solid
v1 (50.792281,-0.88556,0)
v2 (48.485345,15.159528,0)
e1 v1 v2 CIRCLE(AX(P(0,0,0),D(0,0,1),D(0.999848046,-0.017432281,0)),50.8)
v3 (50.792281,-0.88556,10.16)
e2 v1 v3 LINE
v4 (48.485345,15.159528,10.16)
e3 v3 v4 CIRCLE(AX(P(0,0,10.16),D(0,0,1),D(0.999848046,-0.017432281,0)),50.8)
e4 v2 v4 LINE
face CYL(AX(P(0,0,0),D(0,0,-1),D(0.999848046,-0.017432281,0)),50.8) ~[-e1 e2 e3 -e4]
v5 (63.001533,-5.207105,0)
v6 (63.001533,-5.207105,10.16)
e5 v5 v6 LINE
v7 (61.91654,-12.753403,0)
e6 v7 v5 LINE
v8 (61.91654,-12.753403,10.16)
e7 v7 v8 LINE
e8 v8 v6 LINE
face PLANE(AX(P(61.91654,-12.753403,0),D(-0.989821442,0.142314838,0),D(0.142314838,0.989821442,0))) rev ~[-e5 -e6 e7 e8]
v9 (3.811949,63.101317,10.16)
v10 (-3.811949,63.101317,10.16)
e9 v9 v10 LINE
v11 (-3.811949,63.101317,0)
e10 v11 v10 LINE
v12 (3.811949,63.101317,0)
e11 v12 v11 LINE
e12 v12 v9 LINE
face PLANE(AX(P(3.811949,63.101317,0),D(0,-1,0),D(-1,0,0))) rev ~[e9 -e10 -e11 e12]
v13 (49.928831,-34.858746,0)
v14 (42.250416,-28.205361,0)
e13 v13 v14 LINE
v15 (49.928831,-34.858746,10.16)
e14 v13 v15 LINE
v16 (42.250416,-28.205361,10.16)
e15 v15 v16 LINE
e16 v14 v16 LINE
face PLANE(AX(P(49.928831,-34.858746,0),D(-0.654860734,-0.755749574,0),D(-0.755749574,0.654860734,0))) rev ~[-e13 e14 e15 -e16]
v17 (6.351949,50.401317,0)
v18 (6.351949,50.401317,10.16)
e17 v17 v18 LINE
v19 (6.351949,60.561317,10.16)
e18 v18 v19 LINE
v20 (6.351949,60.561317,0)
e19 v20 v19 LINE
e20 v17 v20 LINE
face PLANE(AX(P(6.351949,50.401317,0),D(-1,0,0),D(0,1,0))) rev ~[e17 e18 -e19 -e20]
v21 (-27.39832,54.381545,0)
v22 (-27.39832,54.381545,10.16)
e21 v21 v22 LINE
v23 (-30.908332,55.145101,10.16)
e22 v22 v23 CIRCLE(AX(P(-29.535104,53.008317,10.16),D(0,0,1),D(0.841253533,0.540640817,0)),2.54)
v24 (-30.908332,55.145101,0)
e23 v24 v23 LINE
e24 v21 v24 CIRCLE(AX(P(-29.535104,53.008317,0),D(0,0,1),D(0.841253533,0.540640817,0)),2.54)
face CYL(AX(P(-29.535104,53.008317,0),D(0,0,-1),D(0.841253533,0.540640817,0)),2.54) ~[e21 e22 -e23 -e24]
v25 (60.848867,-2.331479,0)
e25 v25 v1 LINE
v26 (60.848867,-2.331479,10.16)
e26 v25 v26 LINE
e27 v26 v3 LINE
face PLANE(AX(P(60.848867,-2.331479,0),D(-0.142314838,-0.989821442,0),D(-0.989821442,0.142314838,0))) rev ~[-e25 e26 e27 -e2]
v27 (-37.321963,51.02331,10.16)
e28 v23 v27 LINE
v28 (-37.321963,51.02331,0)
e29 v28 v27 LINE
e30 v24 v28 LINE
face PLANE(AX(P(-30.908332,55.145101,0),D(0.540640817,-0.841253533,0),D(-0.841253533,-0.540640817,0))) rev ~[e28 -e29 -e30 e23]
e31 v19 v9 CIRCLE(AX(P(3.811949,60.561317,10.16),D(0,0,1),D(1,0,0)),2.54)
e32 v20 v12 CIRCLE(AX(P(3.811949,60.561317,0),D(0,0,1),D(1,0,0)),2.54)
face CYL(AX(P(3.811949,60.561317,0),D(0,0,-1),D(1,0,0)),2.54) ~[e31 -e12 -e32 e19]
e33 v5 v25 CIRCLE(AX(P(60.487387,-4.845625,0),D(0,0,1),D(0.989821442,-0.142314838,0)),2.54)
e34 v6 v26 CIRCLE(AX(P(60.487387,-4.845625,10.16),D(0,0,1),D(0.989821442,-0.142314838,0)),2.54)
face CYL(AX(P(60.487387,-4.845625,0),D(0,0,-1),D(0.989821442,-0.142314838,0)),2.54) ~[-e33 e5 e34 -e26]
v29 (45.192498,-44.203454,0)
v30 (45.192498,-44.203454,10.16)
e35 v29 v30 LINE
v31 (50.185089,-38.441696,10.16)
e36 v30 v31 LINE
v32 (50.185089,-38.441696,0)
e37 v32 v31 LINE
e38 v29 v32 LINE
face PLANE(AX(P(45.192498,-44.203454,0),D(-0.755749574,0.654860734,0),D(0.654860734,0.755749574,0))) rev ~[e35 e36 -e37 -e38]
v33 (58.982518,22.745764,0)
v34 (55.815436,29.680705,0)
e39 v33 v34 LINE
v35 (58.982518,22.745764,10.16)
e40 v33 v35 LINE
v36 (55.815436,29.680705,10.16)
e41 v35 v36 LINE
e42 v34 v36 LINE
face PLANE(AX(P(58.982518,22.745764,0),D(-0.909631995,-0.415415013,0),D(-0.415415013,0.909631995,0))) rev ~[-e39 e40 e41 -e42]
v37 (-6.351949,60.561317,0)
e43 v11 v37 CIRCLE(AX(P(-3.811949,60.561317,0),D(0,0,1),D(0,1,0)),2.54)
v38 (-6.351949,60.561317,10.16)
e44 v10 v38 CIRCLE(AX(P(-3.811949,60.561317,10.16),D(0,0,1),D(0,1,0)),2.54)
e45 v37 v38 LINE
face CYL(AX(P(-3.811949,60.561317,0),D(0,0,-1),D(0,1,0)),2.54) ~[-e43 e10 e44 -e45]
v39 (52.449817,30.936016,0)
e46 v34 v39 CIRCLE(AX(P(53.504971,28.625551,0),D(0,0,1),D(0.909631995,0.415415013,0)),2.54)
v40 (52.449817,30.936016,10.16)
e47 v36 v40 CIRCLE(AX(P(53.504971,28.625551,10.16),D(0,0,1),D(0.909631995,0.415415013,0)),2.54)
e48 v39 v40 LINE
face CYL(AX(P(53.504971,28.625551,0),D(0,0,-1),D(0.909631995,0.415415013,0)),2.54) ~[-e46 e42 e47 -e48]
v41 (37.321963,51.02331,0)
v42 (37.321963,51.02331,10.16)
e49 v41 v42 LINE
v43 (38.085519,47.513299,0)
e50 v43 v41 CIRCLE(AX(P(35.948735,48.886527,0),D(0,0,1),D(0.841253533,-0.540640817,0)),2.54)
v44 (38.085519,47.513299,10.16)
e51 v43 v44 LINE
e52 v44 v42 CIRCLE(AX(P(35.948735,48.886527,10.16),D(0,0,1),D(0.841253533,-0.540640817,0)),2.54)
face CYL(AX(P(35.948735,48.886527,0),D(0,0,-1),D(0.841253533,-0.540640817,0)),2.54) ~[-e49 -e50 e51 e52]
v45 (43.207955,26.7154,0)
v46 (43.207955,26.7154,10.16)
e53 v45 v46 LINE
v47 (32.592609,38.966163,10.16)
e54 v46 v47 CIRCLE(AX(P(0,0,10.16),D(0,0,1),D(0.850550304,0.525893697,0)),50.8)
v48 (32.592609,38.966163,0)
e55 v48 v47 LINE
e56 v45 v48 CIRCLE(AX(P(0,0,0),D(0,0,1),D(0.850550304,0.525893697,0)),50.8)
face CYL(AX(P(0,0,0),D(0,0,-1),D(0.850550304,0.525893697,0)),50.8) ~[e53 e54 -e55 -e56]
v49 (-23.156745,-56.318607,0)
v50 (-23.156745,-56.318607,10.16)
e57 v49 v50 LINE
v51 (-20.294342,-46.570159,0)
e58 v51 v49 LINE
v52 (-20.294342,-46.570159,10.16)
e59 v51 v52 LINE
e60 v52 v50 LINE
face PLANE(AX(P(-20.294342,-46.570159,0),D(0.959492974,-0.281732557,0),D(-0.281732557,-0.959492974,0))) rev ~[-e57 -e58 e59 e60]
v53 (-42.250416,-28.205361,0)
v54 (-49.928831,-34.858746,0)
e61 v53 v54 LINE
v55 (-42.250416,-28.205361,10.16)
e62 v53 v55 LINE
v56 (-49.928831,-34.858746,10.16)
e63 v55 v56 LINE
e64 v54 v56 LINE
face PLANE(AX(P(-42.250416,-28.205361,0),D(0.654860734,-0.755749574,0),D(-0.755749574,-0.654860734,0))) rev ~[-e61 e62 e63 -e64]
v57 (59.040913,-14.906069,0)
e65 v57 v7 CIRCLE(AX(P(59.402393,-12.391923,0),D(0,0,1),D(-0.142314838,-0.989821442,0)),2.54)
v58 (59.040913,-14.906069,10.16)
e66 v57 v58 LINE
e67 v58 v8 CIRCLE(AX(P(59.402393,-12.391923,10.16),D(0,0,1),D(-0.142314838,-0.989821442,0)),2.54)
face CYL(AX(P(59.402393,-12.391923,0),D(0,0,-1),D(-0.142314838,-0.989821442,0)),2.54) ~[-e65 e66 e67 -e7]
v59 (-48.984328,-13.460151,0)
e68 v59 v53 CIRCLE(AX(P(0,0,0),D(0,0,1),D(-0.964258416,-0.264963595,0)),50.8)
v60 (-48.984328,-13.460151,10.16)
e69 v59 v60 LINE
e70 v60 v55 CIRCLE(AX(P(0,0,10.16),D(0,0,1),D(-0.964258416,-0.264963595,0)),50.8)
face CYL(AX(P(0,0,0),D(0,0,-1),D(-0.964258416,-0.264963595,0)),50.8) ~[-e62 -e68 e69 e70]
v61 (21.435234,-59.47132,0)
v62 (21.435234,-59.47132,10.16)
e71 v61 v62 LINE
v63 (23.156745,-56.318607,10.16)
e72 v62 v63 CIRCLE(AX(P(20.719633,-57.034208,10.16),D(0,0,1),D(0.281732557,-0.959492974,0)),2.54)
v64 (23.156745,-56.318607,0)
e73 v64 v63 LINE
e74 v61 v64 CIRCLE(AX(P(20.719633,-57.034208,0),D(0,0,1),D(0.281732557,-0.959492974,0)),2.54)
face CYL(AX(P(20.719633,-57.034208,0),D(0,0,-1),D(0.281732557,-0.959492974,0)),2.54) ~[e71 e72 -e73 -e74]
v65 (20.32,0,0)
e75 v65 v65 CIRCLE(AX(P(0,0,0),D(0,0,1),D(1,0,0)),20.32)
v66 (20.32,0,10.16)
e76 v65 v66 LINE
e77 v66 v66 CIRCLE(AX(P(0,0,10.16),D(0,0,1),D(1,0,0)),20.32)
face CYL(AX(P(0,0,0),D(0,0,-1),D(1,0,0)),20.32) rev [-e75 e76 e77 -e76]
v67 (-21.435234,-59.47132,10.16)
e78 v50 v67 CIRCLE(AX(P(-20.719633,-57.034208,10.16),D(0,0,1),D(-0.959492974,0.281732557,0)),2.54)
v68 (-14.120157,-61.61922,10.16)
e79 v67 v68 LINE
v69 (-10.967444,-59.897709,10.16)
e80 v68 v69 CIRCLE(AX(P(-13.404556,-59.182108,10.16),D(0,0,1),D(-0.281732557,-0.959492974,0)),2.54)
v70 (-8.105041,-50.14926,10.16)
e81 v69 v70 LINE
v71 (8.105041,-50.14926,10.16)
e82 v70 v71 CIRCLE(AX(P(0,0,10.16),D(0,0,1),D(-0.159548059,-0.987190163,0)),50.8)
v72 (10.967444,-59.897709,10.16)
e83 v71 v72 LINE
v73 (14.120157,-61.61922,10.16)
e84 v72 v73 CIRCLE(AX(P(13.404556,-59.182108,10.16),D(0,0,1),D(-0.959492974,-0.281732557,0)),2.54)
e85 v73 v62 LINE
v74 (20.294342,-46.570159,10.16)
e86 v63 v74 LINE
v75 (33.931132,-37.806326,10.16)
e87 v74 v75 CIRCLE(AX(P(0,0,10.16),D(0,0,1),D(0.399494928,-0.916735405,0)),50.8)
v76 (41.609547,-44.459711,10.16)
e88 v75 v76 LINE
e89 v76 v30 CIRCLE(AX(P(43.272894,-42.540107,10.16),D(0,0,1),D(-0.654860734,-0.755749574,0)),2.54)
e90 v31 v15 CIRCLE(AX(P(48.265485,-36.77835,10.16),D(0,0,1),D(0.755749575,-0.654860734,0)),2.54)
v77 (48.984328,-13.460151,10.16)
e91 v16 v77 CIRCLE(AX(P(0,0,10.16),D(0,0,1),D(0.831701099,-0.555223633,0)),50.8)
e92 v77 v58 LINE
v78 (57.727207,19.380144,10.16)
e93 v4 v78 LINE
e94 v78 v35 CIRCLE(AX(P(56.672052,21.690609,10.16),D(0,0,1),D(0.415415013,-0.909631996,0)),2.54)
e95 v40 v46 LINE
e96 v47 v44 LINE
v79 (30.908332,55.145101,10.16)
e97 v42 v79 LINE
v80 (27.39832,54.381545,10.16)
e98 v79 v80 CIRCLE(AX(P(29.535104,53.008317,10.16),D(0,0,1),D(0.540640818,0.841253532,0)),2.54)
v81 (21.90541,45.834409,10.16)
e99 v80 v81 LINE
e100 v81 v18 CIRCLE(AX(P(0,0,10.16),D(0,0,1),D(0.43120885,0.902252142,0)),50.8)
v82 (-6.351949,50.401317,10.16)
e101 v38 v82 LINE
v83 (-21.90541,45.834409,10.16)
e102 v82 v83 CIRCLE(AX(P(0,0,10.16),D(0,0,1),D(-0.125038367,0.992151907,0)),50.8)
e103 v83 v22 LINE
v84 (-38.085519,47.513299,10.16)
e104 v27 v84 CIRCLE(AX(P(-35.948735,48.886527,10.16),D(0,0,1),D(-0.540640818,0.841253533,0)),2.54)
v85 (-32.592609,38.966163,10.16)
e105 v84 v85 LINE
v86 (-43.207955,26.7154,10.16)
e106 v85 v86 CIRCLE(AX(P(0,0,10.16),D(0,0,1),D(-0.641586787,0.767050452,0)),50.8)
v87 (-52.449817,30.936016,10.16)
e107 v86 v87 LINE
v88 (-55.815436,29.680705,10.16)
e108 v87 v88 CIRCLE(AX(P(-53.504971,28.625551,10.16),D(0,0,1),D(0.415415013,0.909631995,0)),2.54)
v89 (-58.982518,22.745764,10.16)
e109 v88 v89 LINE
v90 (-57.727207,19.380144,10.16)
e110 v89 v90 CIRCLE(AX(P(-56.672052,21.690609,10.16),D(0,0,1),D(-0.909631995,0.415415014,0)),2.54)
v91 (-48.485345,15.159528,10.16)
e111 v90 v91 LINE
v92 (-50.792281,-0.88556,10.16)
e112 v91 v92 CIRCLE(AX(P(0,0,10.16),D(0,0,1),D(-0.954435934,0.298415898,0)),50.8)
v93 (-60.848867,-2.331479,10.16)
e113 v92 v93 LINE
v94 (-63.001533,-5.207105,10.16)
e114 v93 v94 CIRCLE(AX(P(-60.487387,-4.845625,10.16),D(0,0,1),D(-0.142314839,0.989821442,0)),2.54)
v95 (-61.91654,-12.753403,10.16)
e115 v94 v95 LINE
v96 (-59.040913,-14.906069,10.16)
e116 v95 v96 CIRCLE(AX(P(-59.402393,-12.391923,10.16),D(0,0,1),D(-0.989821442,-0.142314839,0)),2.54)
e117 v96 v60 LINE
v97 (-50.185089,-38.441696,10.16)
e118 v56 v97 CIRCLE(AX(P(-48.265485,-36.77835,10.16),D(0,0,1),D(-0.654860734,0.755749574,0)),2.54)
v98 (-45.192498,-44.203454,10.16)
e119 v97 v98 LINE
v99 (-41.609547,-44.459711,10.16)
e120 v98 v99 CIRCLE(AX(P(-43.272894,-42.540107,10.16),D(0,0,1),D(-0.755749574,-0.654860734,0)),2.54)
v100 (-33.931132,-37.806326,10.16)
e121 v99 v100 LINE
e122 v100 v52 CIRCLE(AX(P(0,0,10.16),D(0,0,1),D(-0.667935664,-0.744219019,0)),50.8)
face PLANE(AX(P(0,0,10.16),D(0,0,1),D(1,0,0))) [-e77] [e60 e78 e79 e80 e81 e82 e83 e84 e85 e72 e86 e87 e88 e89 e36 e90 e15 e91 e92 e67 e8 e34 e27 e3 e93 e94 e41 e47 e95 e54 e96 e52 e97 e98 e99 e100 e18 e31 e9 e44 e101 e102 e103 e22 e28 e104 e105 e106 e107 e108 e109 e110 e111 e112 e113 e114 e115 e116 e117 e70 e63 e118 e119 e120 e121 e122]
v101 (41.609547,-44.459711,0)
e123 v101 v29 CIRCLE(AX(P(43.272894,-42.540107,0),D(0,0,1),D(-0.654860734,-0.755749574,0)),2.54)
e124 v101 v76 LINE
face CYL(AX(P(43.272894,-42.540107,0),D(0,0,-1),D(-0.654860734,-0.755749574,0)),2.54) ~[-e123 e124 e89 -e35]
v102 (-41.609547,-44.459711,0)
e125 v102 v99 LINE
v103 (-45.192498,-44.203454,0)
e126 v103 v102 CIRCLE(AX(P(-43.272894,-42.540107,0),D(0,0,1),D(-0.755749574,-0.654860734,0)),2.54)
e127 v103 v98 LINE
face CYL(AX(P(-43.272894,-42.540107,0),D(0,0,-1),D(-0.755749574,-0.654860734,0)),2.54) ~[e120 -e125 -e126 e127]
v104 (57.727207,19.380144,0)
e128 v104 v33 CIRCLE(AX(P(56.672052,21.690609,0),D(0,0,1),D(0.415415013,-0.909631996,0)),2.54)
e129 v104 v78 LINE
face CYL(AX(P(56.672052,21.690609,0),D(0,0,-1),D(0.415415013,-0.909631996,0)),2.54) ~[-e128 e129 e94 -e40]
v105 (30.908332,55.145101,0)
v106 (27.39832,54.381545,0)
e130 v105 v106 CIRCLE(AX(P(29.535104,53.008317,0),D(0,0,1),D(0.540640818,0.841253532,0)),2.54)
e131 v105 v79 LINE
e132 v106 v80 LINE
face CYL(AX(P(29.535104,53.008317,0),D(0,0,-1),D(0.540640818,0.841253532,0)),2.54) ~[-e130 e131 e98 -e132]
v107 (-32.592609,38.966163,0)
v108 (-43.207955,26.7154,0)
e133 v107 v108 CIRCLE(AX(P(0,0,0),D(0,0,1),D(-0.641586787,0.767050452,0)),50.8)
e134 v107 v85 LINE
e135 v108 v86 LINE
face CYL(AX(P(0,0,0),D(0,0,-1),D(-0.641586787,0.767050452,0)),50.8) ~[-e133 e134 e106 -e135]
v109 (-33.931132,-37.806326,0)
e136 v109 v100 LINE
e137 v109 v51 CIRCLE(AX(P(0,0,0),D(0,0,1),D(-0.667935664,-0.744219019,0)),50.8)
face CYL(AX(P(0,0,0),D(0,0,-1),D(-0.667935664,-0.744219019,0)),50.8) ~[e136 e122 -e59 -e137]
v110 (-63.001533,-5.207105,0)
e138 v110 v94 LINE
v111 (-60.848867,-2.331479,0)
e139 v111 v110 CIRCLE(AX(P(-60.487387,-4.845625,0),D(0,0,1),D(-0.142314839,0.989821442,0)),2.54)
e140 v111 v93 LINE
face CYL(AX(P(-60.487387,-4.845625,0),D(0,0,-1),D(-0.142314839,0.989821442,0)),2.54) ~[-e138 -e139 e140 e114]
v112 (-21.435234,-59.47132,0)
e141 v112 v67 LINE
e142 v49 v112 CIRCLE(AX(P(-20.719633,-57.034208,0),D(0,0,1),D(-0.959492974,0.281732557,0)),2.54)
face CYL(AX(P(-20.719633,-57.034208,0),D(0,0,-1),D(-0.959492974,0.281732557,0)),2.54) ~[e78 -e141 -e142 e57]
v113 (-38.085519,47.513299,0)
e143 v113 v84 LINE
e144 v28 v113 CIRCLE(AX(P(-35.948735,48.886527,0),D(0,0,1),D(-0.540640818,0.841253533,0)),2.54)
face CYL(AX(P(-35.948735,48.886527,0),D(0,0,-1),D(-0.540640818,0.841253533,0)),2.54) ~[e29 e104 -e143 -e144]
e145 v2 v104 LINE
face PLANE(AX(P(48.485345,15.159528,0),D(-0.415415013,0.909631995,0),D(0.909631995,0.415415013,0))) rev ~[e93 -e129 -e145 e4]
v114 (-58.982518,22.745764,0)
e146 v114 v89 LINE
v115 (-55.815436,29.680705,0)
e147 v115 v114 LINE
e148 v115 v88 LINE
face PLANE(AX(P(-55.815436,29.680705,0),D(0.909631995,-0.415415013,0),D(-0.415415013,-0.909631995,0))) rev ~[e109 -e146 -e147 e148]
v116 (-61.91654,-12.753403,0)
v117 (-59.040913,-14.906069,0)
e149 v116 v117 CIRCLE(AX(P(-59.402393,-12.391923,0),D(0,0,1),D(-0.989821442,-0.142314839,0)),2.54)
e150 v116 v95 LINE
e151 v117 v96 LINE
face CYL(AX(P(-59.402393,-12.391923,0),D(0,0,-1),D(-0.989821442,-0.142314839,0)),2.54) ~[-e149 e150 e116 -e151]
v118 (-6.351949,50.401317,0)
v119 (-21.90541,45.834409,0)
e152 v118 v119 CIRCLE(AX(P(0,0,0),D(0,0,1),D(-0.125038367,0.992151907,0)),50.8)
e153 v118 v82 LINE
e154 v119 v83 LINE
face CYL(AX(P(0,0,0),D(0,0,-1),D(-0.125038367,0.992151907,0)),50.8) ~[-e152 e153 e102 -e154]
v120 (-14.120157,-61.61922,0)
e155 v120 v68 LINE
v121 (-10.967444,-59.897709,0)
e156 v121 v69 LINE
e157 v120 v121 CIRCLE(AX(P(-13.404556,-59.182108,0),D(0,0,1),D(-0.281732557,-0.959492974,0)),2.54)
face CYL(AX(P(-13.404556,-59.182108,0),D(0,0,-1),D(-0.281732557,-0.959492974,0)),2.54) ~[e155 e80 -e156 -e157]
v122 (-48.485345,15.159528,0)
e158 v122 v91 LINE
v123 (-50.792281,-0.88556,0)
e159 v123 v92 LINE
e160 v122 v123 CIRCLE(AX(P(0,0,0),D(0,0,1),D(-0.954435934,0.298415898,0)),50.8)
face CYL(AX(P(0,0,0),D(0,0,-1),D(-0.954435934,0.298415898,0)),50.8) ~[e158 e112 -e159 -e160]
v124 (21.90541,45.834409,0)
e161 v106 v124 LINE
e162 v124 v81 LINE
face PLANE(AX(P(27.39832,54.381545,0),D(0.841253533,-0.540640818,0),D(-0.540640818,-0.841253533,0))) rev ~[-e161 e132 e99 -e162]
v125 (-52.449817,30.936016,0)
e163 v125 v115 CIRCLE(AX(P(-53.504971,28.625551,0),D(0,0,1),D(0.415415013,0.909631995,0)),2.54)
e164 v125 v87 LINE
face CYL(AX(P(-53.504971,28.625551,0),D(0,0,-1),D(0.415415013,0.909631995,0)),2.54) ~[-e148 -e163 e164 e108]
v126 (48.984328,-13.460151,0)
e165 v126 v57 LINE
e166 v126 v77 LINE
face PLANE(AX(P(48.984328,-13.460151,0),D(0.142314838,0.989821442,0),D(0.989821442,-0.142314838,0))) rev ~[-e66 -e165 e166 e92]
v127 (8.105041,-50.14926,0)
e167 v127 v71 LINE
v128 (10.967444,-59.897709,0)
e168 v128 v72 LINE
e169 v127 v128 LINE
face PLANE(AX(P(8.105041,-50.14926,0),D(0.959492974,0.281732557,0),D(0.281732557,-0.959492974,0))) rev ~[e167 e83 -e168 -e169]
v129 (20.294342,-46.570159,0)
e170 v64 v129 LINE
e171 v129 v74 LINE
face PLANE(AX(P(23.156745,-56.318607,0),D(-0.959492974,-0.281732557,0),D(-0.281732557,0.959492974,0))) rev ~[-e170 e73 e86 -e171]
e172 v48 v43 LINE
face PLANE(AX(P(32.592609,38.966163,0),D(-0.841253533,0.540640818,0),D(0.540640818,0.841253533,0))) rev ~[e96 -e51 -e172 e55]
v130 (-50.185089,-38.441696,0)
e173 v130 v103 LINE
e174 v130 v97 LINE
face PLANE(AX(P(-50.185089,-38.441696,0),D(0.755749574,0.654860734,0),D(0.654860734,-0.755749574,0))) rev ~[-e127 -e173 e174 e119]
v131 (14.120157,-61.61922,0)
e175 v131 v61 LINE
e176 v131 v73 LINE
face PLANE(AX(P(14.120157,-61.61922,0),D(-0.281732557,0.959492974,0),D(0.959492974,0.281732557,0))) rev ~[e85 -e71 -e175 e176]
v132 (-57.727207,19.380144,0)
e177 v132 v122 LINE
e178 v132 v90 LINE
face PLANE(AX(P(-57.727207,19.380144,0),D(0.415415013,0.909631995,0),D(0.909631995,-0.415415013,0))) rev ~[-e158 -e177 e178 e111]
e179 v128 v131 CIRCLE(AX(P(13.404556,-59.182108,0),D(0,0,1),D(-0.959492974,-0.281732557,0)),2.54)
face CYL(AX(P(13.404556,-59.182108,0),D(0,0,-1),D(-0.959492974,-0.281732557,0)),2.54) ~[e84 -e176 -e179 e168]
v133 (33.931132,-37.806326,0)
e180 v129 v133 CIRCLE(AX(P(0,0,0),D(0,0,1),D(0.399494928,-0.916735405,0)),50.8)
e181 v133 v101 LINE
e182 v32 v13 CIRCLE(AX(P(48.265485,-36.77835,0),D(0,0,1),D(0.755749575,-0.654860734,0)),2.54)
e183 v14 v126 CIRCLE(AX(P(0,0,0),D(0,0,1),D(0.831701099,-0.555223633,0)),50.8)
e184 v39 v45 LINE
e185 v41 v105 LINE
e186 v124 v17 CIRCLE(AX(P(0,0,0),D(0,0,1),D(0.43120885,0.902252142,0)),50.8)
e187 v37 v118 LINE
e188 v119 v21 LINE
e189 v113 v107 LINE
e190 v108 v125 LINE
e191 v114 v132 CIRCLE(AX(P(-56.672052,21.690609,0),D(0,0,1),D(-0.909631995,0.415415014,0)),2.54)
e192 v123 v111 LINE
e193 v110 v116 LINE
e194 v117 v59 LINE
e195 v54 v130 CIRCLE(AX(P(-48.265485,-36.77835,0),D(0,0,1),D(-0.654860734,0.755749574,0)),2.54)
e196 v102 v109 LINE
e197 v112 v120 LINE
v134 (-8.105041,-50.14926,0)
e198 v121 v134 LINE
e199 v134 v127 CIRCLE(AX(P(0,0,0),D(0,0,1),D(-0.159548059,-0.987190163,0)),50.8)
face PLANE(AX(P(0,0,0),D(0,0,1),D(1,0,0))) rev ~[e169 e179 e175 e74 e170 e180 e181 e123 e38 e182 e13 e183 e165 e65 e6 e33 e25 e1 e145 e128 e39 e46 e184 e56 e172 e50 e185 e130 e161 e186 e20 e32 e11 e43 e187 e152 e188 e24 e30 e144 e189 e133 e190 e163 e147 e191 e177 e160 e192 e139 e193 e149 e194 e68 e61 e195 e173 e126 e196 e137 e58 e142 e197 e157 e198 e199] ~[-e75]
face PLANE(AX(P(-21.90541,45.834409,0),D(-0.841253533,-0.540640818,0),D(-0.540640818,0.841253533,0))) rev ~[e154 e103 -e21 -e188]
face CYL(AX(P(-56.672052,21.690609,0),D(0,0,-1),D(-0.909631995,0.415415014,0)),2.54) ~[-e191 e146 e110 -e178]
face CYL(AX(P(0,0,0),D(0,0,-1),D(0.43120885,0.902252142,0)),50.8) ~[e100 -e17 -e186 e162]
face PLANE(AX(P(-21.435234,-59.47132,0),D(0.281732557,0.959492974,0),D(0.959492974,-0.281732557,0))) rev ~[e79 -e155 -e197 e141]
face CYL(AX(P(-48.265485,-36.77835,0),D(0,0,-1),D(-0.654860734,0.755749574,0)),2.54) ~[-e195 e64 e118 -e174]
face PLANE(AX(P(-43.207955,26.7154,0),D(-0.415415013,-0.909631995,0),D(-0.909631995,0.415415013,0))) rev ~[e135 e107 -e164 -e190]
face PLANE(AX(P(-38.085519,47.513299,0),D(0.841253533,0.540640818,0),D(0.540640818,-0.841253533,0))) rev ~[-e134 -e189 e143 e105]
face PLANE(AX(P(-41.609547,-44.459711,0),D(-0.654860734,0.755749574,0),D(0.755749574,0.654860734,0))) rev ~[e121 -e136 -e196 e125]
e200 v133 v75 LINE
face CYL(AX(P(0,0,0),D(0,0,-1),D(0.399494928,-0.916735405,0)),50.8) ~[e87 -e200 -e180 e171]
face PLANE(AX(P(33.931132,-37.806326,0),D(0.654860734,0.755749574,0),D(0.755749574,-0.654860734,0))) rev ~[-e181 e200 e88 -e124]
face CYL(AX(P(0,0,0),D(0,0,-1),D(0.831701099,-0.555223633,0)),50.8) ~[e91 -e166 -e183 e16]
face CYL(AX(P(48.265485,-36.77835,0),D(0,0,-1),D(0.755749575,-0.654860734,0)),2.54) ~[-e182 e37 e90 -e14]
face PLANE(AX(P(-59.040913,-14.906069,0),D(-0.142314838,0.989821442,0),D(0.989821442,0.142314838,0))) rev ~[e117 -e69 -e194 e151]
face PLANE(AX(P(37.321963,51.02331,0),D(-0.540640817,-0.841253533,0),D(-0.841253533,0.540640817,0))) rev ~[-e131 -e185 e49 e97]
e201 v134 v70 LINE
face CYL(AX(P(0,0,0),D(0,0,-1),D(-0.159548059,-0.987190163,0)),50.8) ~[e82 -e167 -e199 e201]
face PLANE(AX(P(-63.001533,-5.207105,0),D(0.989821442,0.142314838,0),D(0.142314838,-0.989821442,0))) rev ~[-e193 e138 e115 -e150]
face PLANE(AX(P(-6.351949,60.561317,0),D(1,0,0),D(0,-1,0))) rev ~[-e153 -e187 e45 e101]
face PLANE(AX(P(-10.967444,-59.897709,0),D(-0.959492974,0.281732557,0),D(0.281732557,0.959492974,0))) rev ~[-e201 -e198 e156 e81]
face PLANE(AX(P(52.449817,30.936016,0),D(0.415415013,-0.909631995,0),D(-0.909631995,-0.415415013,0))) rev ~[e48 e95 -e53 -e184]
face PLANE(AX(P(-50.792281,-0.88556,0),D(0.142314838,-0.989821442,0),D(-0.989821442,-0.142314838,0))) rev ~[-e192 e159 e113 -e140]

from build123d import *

# Parameters (mm, degrees)
SKETCH1_R           = 20.32
BOSS_EXTRUDE3_DEPTH = 10.16


with BuildPart() as part:
    # Sketch1 → Boss-Extrude3 (new body)
    with BuildSketch(Plane.XY):
        with BuildLine():
            Line((37.321963159, 51.023310491), (30.908331921, 55.145101009))
            ThreePointArc((30.908331921, 55.145101009), (28.995188409, 55.490270076), (27.398320271, 54.381544712))
            Line((27.398320271, 54.381544712), (21.905409565, 45.834408819))
            ThreePointArc((21.905409565, 45.834408819), (14.312013888, 48.74224306), (6.351949066, 50.401316878))
            Line((6.351949066, 50.401316878), (6.351949066, 60.561316878))
            ThreePointArc((6.351949066, 60.561316878), (5.608000291, 62.357368102), (3.811949066, 63.101316878))
            Line((3.811949066, 63.101316878), (-3.811949066, 63.101316878))
            ThreePointArc((-3.811949066, 63.101316878), (-5.608000291, 62.357368102), (-6.351949066, 60.561316878))
            Line((-6.351949066, 60.561316878), (-6.351949066, 50.401316878))
            ThreePointArc((-6.351949066, 50.401316878), (-14.312013888, 48.74224306), (-21.905409565, 45.834408819))
            Line((-21.905409565, 45.834408819), (-27.398320271, 54.381544712))
            ThreePointArc((-27.398320271, 54.381544712), (-28.995188409, 55.490270076), (-30.908331921, 55.145101009))
            Line((-30.908331921, 55.145101009), (-37.321963159, 51.023310491))
            ThreePointArc((-37.321963159, 51.023310491), (-38.430688522, 49.426442353), (-38.085519456, 47.513298841))
            Line((-38.085519456, 47.513298841), (-32.59260875, 38.966162948))
            ThreePointArc((-32.59260875, 38.966162948), (-38.392078377, 33.266925284), (-43.207955436, 26.71539981))
            Line((-43.207955436, 26.71539981), (-52.449816509, 30.936016342))
            ThreePointArc((-52.449816509, 30.936016342), (-54.392609658, 31.005403375), (-55.81543591, 29.680705207))
            Line((-55.81543591, 29.680705207), (-58.982517652, 22.745763536))
            ThreePointArc((-58.982517652, 22.745763536), (-59.051904686, 20.802970387), (-57.727206517, 19.380144135))
            Line((-57.727206517, 19.380144135), (-48.485345444, 15.159527603))
            ThreePointArc((-48.485345444, 15.159527603), (-50.282929248, 7.229593784), (-50.792280749, -0.885559877))
            Line((-50.792280749, -0.885559877), (-60.848866599, -2.331478634))
            ThreePointArc((-60.848866599, -2.331478634), (-62.520761661, -3.323459823), (-63.001533372, -5.207104785))
            Line((-63.001533372, -5.207104785), (-61.916539542, -12.753402628))
            ThreePointArc((-61.916539542, -12.753402628), (-60.924558353, -14.42529769), (-59.040913391, -14.906069401))
            Line((-59.040913391, -14.906069401), (-48.984327541, -13.460150644))
            ThreePointArc((-48.984327541, -13.460150644), (-46.209305364, -21.10308266), (-42.250415805, -28.20536056))
            Line((-42.250415805, -28.20536056), (-49.928831481, -34.858745616))
            ThreePointArc((-49.928831481, -34.858745616), (-50.799013587, -36.59714801), (-50.185089135, -38.441695799))
            Line((-50.185089135, -38.441695799), (-45.192497609, -44.203453568))
            ThreePointArc((-45.192497609, -44.203453568), (-43.454095215, -45.073635675), (-41.609547426, -44.459711223))
            Line((-41.609547426, -44.459711223), (-33.93113175, -37.806326166))
            ThreePointArc((-33.93113175, -37.806326166), (-27.464553527, -42.735679468), (-20.29434237, -46.570158554))
            Line((-20.29434237, -46.570158554), (-23.156745148, -56.318607166))
            ThreePointArc((-23.156745148, -56.318607166), (-22.948937628, -58.251500287), (-21.435233689, -59.471320013))
            Line((-21.435233689, -59.471320013), (-14.120156999, -61.619220327))
            ThreePointArc((-14.120156999, -61.619220327), (-12.187263879, -61.411412808), (-10.967444152, -59.897708869))
            Line((-10.967444152, -59.897708869), (-8.105041374, -50.149260257))
            ThreePointArc((-8.105041374, -50.149260257), (0, -50.8), (8.105041374, -50.149260257))
            Line((8.105041374, -50.149260257), (10.967444152, -59.897708869))
            ThreePointArc((10.967444152, -59.897708869), (12.187263879, -61.411412808), (14.120156999, -61.619220327))
            Line((14.120156999, -61.619220327), (21.435233689, -59.471320013))
            ThreePointArc((21.435233689, -59.471320013), (22.948937628, -58.251500287), (23.156745148, -56.318607166))
            Line((23.156745148, -56.318607166), (20.29434237, -46.570158554))
            ThreePointArc((20.29434237, -46.570158554), (27.464553527, -42.735679468), (33.93113175, -37.806326166))
            Line((33.93113175, -37.806326166), (41.609547426, -44.459711223))
            ThreePointArc((41.609547426, -44.459711223), (43.454095215, -45.073635675), (45.192497609, -44.203453568))
            Line((45.192497609, -44.203453568), (50.185089135, -38.441695799))
            ThreePointArc((50.185089135, -38.441695799), (50.799013587, -36.59714801), (49.928831481, -34.858745616))
            Line((49.928831481, -34.858745616), (42.250415805, -28.205360559))
            ThreePointArc((42.250415805, -28.205360559), (46.209305364, -21.10308266), (48.984327541, -13.460150644))
            Line((48.984327541, -13.460150644), (59.040913391, -14.906069401))
            ThreePointArc((59.040913391, -14.906069401), (60.924558353, -14.42529769), (61.916539542, -12.753402628))
            Line((61.916539542, -12.753402628), (63.001533372, -5.207104785))
            ThreePointArc((63.001533372, -5.207104785), (62.520761661, -3.323459823), (60.848866599, -2.331478634))
            Line((60.848866599, -2.331478634), (50.792280749, -0.885559877))
            ThreePointArc((50.792280749, -0.885559877), (50.282929248, 7.229593784), (48.485345444, 15.159527603))
            Line((48.485345444, 15.159527603), (57.727206517, 19.380144135))
            ThreePointArc((57.727206517, 19.380144135), (59.051904686, 20.802970387), (58.982517652, 22.745763536))
            Line((58.982517652, 22.745763536), (55.81543591, 29.680705207))
            ThreePointArc((55.81543591, 29.680705207), (54.392609658, 31.005403375), (52.449816509, 30.936016342))
            Line((52.449816509, 30.936016342), (43.207955436, 26.71539981))
            ThreePointArc((43.207955436, 26.71539981), (38.392078377, 33.266925284), (32.59260875, 38.966162948))
            Line((32.59260875, 38.966162948), (38.085519456, 47.513298841))
            ThreePointArc((38.085519456, 47.513298841), (38.430688522, 49.426442353), (37.321963159, 51.023310491))
        make_face()
        Circle(SKETCH1_R, mode=Mode.SUBTRACT)
    extrude(amount=BOSS_EXTRUDE3_DEPTH)


solid = part.part
